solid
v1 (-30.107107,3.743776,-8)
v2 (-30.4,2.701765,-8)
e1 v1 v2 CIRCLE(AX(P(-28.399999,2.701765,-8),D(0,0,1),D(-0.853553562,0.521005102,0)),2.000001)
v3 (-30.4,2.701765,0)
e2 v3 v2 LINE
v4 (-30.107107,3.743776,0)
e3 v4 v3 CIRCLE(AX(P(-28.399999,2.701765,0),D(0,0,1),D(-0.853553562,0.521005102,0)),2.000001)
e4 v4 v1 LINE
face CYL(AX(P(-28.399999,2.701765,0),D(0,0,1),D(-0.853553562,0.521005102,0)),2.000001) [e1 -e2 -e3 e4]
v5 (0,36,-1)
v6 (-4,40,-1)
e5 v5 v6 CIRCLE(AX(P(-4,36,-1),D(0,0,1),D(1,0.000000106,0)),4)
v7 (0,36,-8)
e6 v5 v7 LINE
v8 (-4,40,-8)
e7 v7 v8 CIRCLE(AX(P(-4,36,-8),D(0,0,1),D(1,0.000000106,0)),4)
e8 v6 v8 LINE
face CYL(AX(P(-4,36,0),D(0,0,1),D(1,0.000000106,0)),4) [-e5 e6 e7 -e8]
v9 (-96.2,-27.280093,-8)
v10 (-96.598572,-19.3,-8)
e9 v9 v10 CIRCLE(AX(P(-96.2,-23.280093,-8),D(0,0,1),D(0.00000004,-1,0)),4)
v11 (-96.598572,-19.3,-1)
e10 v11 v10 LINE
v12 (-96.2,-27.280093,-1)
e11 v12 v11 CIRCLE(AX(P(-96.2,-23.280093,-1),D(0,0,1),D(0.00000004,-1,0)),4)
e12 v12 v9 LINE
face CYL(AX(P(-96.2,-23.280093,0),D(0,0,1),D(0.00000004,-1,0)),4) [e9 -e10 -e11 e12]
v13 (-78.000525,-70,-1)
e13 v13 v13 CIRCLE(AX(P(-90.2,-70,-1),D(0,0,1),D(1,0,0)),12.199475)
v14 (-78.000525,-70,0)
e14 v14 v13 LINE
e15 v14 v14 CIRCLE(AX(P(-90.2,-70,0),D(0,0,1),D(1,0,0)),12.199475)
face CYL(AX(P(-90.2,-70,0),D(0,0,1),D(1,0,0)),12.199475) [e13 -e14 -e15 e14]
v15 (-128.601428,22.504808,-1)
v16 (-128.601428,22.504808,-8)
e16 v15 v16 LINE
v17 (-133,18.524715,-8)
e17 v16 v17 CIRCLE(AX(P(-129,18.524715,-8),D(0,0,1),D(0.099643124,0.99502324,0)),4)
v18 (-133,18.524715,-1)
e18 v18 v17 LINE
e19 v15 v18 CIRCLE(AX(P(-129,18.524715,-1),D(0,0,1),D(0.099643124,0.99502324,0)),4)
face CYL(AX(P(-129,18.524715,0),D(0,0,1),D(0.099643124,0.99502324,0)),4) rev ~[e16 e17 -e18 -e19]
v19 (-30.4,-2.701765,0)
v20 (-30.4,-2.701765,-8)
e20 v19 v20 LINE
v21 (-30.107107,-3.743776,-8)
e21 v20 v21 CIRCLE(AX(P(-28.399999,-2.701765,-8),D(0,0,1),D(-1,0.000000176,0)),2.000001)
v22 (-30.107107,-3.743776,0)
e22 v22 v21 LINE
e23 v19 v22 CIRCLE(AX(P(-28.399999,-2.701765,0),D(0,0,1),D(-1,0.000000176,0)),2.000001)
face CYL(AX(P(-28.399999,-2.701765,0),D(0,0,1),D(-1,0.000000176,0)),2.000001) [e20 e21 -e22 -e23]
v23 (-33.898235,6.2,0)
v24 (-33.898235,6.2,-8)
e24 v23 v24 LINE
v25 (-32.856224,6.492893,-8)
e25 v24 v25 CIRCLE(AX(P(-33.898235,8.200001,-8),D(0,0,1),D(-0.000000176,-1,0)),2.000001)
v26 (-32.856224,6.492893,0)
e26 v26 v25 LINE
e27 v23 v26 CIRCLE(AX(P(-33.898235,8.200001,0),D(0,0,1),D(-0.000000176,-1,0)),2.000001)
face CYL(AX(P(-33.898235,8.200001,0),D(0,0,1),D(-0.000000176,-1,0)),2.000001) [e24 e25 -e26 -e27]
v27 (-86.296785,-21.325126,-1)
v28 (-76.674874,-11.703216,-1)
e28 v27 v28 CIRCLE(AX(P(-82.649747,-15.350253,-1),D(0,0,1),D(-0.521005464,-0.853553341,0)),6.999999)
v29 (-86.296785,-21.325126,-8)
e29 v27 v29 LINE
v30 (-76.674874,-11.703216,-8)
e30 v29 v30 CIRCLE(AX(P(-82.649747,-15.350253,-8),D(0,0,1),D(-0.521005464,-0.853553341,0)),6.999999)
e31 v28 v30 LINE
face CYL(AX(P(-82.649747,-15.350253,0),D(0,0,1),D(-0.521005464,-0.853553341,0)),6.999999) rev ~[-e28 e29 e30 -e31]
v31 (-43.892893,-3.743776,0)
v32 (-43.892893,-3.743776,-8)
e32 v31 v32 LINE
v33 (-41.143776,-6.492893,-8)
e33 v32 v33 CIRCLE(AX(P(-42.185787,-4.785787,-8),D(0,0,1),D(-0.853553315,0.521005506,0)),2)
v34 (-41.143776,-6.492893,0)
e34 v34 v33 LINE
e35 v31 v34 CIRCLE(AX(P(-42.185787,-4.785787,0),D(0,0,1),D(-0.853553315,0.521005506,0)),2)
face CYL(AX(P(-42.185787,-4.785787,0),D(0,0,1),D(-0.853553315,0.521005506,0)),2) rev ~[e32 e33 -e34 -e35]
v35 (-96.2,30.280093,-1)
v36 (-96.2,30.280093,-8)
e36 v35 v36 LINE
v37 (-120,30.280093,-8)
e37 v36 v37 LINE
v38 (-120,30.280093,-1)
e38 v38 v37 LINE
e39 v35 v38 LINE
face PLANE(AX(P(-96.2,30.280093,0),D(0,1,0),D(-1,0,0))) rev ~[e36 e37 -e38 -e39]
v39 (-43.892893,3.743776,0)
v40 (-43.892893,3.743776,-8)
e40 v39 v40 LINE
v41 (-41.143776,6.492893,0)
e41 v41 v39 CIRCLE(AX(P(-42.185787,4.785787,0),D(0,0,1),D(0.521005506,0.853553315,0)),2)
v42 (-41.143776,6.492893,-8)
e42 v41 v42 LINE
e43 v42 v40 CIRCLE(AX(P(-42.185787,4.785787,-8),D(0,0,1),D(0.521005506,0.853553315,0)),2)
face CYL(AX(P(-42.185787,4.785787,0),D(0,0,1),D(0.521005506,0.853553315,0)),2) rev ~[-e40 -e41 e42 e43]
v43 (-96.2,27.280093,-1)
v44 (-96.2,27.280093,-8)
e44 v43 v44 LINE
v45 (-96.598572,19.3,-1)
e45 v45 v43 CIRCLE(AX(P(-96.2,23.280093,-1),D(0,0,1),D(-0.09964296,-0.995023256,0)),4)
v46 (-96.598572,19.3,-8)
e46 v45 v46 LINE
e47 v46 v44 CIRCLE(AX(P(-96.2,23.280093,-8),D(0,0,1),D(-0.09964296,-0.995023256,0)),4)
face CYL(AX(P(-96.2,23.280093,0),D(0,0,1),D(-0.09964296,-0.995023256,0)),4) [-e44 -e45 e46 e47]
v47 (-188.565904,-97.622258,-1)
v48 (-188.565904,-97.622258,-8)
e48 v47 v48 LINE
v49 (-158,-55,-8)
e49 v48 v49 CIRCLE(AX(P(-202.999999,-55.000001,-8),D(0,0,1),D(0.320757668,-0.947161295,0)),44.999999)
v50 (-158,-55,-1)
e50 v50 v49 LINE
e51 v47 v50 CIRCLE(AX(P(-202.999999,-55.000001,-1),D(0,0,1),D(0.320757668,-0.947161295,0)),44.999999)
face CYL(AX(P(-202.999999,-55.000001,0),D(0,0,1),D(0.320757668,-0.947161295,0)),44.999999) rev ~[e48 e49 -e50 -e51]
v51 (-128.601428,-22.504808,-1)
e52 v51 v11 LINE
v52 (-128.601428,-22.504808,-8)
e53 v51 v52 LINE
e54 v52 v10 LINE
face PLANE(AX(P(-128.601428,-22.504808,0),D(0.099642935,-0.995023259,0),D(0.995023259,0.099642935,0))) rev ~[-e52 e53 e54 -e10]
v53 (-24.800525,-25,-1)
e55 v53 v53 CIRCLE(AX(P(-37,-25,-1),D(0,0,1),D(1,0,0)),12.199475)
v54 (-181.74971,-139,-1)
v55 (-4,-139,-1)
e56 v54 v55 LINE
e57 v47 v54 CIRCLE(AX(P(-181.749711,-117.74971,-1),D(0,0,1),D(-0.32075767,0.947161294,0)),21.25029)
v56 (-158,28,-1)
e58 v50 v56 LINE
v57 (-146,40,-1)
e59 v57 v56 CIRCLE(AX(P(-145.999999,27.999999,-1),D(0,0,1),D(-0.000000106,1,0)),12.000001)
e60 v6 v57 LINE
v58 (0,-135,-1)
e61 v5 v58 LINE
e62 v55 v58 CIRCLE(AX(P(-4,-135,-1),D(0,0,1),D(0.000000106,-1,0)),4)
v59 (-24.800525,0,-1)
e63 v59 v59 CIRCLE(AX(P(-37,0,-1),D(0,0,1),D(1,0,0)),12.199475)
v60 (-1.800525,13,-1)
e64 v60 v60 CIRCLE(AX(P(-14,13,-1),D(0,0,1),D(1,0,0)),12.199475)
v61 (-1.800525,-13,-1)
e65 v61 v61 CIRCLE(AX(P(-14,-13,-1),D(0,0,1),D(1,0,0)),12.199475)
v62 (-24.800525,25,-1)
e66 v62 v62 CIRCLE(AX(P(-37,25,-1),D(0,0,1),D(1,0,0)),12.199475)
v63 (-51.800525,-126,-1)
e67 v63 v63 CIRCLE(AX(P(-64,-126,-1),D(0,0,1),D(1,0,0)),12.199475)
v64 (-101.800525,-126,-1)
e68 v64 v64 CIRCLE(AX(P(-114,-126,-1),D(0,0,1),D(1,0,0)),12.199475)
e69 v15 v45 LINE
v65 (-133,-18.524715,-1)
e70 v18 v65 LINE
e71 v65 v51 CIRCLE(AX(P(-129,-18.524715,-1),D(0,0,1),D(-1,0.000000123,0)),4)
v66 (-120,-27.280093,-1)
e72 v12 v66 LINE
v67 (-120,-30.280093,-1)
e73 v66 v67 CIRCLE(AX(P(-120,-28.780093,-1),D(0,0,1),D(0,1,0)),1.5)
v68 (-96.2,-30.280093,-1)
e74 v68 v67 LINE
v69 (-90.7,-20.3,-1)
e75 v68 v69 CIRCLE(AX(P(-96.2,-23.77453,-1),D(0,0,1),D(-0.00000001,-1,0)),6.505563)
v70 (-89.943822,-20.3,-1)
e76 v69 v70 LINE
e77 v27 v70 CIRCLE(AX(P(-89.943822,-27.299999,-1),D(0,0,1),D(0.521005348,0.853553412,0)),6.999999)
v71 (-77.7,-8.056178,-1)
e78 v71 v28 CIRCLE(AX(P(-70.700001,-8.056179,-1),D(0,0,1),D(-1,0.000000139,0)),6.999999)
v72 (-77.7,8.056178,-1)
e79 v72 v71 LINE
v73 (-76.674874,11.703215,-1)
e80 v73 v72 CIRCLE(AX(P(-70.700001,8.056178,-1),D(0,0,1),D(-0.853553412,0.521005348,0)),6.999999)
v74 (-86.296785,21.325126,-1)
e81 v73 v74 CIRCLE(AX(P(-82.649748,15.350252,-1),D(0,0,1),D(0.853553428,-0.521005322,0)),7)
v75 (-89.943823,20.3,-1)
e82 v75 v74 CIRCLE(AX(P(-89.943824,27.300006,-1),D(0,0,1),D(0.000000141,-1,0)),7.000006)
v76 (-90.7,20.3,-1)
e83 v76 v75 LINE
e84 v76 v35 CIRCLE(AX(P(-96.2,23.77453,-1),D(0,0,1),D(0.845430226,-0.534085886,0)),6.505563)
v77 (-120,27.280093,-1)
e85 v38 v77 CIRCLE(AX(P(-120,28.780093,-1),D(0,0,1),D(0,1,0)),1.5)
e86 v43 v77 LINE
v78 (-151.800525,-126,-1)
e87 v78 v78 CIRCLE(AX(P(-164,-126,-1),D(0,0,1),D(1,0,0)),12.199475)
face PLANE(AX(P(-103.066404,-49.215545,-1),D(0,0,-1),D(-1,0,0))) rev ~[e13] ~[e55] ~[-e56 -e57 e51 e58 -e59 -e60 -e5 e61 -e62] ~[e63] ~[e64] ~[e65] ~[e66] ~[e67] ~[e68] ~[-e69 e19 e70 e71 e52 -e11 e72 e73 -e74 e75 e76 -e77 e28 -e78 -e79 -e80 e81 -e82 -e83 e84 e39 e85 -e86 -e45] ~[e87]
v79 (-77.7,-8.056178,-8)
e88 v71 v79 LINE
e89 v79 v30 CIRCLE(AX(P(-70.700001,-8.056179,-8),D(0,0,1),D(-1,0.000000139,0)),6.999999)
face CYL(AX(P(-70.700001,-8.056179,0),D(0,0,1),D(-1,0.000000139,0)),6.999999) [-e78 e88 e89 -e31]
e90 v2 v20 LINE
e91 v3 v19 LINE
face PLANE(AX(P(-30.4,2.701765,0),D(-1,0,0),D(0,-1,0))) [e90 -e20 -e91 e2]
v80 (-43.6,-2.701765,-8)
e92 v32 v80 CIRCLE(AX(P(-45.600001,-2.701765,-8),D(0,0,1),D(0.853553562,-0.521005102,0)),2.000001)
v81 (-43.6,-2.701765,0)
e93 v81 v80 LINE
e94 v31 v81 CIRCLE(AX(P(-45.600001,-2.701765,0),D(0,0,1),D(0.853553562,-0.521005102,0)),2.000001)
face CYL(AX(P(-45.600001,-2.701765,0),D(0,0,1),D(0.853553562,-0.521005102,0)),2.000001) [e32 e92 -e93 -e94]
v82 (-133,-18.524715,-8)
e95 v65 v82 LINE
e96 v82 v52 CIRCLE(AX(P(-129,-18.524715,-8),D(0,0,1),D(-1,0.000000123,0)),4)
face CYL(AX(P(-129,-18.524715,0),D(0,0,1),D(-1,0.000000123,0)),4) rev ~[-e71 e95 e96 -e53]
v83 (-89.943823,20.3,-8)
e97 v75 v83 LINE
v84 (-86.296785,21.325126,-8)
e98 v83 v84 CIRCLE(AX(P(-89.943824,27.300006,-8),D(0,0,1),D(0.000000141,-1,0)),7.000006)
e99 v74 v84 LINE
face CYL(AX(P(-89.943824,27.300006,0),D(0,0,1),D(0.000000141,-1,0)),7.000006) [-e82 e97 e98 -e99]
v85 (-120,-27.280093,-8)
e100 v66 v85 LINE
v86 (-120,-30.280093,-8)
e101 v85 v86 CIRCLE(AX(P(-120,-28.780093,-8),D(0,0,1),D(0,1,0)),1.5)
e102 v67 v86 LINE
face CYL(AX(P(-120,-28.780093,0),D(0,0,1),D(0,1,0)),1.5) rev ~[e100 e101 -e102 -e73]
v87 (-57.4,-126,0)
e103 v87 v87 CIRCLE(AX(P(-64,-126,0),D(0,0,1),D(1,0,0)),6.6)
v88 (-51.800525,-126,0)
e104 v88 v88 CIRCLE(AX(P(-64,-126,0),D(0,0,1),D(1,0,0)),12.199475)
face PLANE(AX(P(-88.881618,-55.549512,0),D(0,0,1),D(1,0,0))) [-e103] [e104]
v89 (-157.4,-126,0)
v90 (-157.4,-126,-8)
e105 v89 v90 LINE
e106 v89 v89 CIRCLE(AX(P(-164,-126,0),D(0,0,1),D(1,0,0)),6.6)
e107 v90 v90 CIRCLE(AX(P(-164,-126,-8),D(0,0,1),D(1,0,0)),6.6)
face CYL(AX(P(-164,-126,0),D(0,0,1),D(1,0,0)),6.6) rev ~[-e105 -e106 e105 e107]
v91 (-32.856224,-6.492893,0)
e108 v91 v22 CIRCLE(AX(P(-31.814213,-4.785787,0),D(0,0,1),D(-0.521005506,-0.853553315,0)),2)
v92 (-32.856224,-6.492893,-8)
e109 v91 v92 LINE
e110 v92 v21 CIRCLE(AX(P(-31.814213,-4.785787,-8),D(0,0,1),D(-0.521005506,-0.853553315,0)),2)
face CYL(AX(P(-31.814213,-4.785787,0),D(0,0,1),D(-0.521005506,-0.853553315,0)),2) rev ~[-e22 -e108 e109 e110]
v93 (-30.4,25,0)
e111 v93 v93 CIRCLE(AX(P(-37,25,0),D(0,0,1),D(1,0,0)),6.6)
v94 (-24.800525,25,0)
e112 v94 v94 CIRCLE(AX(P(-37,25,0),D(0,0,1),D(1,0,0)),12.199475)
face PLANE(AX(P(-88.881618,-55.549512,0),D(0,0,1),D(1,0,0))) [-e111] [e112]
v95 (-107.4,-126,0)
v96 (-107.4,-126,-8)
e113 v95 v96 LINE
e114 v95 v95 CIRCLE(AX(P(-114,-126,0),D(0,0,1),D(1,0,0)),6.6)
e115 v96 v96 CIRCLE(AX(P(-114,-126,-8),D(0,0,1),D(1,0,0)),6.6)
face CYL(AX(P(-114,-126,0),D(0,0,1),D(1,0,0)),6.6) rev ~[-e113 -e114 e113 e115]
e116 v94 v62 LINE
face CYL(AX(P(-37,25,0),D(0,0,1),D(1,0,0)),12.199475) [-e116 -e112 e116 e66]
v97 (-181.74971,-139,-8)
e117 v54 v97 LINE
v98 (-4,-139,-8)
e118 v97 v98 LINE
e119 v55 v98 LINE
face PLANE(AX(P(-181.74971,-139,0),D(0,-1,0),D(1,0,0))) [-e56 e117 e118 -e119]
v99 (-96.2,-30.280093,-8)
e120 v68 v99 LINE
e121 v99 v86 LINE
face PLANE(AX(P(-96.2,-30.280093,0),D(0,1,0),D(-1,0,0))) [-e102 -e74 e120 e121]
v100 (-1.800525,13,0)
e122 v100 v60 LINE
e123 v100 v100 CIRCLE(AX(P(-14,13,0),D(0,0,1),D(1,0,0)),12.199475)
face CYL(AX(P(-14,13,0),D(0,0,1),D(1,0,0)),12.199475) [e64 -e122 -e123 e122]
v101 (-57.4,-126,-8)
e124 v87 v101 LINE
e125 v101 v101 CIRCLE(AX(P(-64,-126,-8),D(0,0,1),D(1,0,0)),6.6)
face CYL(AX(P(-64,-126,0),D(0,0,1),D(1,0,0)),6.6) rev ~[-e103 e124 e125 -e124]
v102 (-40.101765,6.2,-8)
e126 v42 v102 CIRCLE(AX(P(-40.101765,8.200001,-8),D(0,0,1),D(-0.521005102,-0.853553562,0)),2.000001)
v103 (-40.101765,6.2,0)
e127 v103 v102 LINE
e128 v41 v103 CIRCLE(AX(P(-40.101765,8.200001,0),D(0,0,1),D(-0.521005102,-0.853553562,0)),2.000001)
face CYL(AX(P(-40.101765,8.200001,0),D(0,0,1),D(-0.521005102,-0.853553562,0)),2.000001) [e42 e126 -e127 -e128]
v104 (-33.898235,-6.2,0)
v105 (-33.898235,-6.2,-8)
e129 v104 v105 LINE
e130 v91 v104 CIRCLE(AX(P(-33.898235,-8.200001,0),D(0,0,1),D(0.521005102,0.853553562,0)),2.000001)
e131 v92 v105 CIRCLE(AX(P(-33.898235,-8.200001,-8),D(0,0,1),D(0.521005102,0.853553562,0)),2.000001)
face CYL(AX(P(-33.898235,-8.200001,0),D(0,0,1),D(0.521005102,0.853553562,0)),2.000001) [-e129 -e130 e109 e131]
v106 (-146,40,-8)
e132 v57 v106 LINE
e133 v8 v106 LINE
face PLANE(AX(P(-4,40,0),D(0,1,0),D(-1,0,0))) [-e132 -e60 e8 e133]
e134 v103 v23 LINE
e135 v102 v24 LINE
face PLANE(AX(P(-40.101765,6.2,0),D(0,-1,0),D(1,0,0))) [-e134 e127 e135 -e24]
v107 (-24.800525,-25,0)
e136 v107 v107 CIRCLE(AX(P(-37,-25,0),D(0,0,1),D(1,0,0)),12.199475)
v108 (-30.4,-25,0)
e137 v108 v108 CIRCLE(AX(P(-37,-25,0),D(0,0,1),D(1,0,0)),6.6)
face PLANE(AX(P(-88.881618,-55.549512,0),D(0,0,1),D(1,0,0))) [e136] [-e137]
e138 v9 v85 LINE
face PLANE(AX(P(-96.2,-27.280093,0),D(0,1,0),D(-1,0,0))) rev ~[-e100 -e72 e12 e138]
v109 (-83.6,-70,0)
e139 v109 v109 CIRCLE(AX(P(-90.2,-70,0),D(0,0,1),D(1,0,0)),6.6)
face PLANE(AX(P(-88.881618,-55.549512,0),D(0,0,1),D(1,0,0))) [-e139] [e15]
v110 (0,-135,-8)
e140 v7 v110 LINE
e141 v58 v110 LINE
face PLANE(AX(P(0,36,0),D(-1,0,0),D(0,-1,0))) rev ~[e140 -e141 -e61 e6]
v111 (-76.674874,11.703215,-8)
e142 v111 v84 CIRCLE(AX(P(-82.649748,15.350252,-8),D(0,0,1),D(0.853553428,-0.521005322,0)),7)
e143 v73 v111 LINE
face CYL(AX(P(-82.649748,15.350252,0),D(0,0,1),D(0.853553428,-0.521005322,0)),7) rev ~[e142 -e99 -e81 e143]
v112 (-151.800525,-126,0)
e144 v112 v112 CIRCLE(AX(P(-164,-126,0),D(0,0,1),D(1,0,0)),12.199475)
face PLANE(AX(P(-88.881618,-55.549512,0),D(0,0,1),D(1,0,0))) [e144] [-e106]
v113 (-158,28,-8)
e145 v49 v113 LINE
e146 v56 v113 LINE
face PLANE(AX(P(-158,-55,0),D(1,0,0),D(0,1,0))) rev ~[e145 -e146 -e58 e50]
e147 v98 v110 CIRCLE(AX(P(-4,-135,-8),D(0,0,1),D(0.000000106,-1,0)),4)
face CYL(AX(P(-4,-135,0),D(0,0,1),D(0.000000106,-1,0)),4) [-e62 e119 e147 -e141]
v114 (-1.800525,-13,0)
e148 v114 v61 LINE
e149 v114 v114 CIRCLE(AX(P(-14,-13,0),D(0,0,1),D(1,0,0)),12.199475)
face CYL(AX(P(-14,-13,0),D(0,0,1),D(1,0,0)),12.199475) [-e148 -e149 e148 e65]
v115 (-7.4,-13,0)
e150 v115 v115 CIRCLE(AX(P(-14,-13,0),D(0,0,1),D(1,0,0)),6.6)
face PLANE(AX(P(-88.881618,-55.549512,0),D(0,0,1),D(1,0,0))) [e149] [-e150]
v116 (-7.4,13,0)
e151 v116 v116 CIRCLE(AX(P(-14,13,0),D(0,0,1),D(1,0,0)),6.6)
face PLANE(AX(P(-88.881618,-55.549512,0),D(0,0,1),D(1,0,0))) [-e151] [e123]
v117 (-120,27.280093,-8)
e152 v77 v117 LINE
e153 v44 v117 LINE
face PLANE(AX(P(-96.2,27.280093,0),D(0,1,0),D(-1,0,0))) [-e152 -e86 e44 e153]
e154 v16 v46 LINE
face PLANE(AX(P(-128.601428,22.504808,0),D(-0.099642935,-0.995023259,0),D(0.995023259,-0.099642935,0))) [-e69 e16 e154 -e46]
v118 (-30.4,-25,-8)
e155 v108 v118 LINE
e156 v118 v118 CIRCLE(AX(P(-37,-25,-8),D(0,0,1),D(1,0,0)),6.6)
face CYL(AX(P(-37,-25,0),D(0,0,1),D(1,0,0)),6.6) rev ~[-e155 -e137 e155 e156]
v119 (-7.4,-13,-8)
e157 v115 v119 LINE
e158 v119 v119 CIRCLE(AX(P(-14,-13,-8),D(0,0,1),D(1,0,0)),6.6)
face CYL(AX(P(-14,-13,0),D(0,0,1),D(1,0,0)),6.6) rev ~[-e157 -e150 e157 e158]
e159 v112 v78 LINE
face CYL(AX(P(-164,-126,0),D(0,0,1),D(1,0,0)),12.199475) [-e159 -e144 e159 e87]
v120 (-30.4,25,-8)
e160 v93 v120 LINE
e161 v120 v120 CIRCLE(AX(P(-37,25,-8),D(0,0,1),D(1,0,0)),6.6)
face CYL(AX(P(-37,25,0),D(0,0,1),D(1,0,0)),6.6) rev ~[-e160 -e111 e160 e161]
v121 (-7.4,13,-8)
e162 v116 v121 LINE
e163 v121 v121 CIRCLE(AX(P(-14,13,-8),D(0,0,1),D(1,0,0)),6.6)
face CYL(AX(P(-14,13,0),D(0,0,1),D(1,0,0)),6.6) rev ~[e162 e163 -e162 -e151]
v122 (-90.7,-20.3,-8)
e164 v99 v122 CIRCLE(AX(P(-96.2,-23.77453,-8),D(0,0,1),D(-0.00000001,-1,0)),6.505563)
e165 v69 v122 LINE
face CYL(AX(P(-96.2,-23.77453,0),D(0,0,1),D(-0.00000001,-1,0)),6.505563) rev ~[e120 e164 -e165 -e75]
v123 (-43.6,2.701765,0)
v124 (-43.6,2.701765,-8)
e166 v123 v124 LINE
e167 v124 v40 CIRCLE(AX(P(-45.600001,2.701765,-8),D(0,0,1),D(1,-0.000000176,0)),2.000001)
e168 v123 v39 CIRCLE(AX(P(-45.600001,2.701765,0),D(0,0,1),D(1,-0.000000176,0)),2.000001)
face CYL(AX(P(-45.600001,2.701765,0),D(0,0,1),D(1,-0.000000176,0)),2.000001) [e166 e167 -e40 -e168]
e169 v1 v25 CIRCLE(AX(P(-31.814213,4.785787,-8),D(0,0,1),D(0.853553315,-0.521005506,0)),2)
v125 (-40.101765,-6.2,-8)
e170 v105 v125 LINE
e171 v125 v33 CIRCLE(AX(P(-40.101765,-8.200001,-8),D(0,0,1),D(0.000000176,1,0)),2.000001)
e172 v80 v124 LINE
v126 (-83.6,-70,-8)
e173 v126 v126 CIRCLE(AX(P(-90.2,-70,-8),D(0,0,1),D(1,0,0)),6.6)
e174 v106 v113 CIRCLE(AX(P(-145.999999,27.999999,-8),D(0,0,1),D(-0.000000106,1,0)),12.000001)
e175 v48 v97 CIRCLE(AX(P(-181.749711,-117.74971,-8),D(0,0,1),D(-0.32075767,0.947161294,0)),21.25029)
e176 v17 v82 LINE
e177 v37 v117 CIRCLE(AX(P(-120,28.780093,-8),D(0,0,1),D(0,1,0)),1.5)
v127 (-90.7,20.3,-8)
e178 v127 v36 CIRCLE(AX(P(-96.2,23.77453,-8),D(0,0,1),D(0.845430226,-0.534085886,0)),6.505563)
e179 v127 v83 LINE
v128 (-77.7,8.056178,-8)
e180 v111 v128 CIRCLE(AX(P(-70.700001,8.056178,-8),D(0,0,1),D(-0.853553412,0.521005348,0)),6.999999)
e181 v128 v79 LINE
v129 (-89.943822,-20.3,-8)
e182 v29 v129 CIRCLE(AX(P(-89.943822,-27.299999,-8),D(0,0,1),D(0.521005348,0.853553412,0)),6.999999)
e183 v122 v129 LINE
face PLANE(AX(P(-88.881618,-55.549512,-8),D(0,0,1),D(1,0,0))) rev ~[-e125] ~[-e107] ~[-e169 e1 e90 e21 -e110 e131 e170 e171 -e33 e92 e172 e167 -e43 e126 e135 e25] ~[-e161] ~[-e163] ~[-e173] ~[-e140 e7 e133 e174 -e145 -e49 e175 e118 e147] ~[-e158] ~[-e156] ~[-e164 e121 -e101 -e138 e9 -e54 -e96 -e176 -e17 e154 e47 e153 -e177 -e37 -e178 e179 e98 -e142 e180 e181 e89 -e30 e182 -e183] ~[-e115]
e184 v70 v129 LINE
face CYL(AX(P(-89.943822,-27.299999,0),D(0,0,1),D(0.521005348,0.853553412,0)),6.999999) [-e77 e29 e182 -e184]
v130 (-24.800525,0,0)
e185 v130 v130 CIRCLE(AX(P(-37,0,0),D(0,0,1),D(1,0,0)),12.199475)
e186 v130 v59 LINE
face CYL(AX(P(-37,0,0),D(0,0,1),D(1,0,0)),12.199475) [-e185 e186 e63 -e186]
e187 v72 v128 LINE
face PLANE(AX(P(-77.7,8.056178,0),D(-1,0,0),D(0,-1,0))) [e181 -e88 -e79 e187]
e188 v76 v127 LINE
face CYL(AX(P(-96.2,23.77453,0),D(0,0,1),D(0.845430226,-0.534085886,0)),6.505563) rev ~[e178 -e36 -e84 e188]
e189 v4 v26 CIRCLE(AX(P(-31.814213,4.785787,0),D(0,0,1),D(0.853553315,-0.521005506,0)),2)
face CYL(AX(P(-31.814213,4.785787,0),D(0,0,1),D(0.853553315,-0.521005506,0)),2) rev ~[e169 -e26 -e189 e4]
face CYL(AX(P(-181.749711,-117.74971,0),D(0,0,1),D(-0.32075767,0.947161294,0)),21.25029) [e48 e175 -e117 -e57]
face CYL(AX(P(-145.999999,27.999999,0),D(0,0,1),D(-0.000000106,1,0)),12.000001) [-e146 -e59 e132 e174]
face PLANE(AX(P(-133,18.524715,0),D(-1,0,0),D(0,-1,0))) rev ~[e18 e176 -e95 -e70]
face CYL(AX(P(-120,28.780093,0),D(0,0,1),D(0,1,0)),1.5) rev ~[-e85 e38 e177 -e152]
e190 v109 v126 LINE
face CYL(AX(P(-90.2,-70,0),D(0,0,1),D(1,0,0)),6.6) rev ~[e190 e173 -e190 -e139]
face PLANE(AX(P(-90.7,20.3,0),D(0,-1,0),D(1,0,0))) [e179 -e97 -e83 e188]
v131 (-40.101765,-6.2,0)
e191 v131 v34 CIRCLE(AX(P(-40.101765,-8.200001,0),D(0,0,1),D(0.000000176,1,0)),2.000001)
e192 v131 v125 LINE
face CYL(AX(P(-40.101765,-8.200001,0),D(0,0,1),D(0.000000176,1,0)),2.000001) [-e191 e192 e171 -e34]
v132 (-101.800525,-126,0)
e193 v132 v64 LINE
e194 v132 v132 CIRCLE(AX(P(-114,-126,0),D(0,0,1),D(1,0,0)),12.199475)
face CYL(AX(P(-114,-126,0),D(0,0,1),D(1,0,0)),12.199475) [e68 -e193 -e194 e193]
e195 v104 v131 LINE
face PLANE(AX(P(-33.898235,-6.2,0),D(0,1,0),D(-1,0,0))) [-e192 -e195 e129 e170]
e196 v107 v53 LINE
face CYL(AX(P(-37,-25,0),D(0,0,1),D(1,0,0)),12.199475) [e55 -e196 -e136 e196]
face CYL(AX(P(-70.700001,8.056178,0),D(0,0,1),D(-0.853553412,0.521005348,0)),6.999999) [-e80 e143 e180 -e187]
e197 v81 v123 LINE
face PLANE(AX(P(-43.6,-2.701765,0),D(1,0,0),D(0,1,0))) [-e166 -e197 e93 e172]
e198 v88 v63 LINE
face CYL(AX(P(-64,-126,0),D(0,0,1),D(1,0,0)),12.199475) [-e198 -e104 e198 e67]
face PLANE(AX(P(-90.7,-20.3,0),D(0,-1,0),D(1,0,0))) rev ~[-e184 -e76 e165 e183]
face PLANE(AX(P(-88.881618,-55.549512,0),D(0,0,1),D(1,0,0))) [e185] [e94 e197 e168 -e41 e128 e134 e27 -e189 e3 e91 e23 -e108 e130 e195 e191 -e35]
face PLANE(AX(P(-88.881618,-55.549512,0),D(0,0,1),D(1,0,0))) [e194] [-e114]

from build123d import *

# Parameters (mm, degrees)
SKETCH_R     = 6.6
PAD_DEPTH    = 8
SKETCH001_R  = 12.199475
POCKET_DEPTH = 1


with BuildPart() as part:
    # Sketch → Pad (new body)
    with BuildSketch(Plane.XY):
        with BuildLine():
            Line((-4, 40), (-146, 40))
            ThreePointArc((-146, 40), (-154.485281, 36.485281), (-158, 28))
            Line((-158, -55), (-158, 28))
            ThreePointArc((-188.565904, -97.622258), (-166.431336, -81.224661), (-158, -55))
            ThreePointArc((-188.565904, -97.622258), (-202.717412, -121.203739), (-181.74971, -139))
            Line((-181.74971, -139), (-4, -139))
            ThreePointArc((-4, -139), (-1.171573, -137.828427), (0, -135))
            Line((0, 36), (0, -135))
            ThreePointArc((0, 36), (-1.171573, 38.828427), (-4, 40))
        make_face()
        with Locations((-37, 25)):
            Circle(SKETCH_R, mode=Mode.SUBTRACT)
        with Locations((-37, -25)):
            Circle(SKETCH_R, mode=Mode.SUBTRACT)
        with Locations((-14, 13)):
            Circle(SKETCH_R, mode=Mode.SUBTRACT)
        with Locations((-14, -13)):
            Circle(SKETCH_R, mode=Mode.SUBTRACT)
        with Locations((-164, -126)):
            Circle(SKETCH_R, mode=Mode.SUBTRACT)
        with Locations((-114, -126)):
            Circle(SKETCH_R, mode=Mode.SUBTRACT)
        with Locations((-64, -126)):
            Circle(SKETCH_R, mode=Mode.SUBTRACT)
        with Locations((-90.2, -70)):
            Circle(SKETCH_R, mode=Mode.SUBTRACT)
        with BuildLine():
            Line((-40.101765, 6.2), (-33.898235, 6.2))
            ThreePointArc((-33.898235, 6.2), (-33.357039, 6.274615), (-32.856224, 6.492893))
            ThreePointArc((-30.107107, 3.743776), (-30.4, 6.2), (-32.856224, 6.492893))
            ThreePointArc((-30.107107, 3.743776), (-30.325385, 3.242961), (-30.4, 2.701765))
            Line((-30.4, 2.701765), (-30.4, -2.701765))
            ThreePointArc((-30.4, -2.701765), (-30.325385, -3.242961), (-30.107107, -3.743776))
            ThreePointArc((-32.856224, -6.492893), (-30.4, -6.2), (-30.107107, -3.743776))
            ThreePointArc((-32.856224, -6.492893), (-33.357039, -6.274615), (-33.898235, -6.2))
            Line((-33.898235, -6.2), (-40.101765, -6.2))
            ThreePointArc((-40.101765, -6.2), (-40.642961, -6.274615), (-41.143776, -6.492893))
            ThreePointArc((-43.892893, -3.743776), (-43.6, -6.2), (-41.143776, -6.492893))
            ThreePointArc((-43.892893, -3.743776), (-43.674615, -3.242961), (-43.6, -2.701765))
            Line((-43.6, -2.701765), (-43.6, 2.701765))
            ThreePointArc((-43.6, 2.701765), (-43.674615, 3.242961), (-43.892893, 3.743776))
            ThreePointArc((-41.143776, 6.492893), (-43.6, 6.2), (-43.892893, 3.743776))
            ThreePointArc((-41.143776, 6.492893), (-40.642961, 6.274615), (-40.101765, 6.2))
        make_face(mode=Mode.SUBTRACT)
        with BuildLine():
            Line((-90.7, 20.3), (-89.943823, 20.3))
            ThreePointArc((-89.943823, 20.3), (-88.049637, 20.561153), (-86.296785, 21.325126))
            ThreePointArc((-76.674874, 11.703215), (-77.700001, 20.3), (-86.296785, 21.325126))
            ThreePointArc((-76.674874, 11.703215), (-77.438847, 9.950364), (-77.7, 8.056178))
            Line((-77.7, 8.056178), (-77.7, -8.056178))
            ThreePointArc((-77.7, -8.056178), (-77.438847, -9.950365), (-76.674874, -11.703216))
            ThreePointArc((-86.296785, -21.325126), (-77.7, -20.3), (-76.674874, -11.703216))
            ThreePointArc((-86.296785, -21.325126), (-88.049636, -20.561153), (-89.943822, -20.3))
            Line((-90.7, -20.3), (-89.943822, -20.3))
            ThreePointArc((-96.2, -30.280093), (-90.502363, -26.91448), (-90.7, -20.3))
            Line((-96.2, -30.280093), (-120, -30.280093))
            ThreePointArc((-120, -27.280093), (-121.5, -28.780093), (-120, -30.280093))
            Line((-96.2, -27.280093), (-120, -27.280093))
            ThreePointArc((-96.2, -27.280093), (-92.20498, -23.080559), (-96.598572, -19.3))
            Line((-128.601428, -22.504808), (-96.598572, -19.3))
            ThreePointArc((-133, -18.524715), (-131.683814, -21.490713), (-128.601428, -22.504808))
            Line((-133, 18.524715), (-133, -18.524715))
            ThreePointArc((-128.601428, 22.504808), (-131.683814, 21.490713), (-133, 18.524715))
            Line((-128.601428, 22.504808), (-96.598572, 19.3))
            ThreePointArc((-96.598572, 19.3), (-92.20498, 23.080559), (-96.2, 27.280093))
            Line((-96.2, 27.280093), (-120, 27.280093))
            ThreePointArc((-120, 30.280093), (-121.5, 28.780093), (-120, 27.280093))
            Line((-96.2, 30.280093), (-120, 30.280093))
            ThreePointArc((-90.7, 20.3), (-90.502363, 26.91448), (-96.2, 30.280093))
        make_face(mode=Mode.SUBTRACT)
    extrude(amount=-PAD_DEPTH)

    # Sketch001 → Pocket (cut)
    with BuildSketch(Plane.XY):
        Polygon((5.517247, 44.094818), (5.517247, -142.525909), (-211.650055, -142.525909), (-211.650055, -44.465102), (-211.650055, 44.094818), align=None)
        with Locations((-37, -25)):
            Circle(SKETCH001_R, mode=Mode.SUBTRACT)
        with Locations((-14, 13)):
            Circle(SKETCH001_R, mode=Mode.SUBTRACT)
        with Locations((-14, -13)):
            Circle(SKETCH001_R, mode=Mode.SUBTRACT)
        with Locations((-37, 25)):
            Circle(SKETCH001_R, mode=Mode.SUBTRACT)
        with Locations((-114, -126)):
            Circle(SKETCH001_R, mode=Mode.SUBTRACT)
        with Locations((-90.2, -70)):
            Circle(SKETCH001_R, mode=Mode.SUBTRACT)
        with Locations((-64, -126)):
            Circle(SKETCH001_R, mode=Mode.SUBTRACT)
        with Locations((-164, -126)):
            Circle(SKETCH001_R, mode=Mode.SUBTRACT)
        with Locations((-37, 0)):
            Circle(SKETCH001_R, mode=Mode.SUBTRACT)
    extrude(amount=-POCKET_DEPTH, mode=Mode.SUBTRACT)


solid = part.part
